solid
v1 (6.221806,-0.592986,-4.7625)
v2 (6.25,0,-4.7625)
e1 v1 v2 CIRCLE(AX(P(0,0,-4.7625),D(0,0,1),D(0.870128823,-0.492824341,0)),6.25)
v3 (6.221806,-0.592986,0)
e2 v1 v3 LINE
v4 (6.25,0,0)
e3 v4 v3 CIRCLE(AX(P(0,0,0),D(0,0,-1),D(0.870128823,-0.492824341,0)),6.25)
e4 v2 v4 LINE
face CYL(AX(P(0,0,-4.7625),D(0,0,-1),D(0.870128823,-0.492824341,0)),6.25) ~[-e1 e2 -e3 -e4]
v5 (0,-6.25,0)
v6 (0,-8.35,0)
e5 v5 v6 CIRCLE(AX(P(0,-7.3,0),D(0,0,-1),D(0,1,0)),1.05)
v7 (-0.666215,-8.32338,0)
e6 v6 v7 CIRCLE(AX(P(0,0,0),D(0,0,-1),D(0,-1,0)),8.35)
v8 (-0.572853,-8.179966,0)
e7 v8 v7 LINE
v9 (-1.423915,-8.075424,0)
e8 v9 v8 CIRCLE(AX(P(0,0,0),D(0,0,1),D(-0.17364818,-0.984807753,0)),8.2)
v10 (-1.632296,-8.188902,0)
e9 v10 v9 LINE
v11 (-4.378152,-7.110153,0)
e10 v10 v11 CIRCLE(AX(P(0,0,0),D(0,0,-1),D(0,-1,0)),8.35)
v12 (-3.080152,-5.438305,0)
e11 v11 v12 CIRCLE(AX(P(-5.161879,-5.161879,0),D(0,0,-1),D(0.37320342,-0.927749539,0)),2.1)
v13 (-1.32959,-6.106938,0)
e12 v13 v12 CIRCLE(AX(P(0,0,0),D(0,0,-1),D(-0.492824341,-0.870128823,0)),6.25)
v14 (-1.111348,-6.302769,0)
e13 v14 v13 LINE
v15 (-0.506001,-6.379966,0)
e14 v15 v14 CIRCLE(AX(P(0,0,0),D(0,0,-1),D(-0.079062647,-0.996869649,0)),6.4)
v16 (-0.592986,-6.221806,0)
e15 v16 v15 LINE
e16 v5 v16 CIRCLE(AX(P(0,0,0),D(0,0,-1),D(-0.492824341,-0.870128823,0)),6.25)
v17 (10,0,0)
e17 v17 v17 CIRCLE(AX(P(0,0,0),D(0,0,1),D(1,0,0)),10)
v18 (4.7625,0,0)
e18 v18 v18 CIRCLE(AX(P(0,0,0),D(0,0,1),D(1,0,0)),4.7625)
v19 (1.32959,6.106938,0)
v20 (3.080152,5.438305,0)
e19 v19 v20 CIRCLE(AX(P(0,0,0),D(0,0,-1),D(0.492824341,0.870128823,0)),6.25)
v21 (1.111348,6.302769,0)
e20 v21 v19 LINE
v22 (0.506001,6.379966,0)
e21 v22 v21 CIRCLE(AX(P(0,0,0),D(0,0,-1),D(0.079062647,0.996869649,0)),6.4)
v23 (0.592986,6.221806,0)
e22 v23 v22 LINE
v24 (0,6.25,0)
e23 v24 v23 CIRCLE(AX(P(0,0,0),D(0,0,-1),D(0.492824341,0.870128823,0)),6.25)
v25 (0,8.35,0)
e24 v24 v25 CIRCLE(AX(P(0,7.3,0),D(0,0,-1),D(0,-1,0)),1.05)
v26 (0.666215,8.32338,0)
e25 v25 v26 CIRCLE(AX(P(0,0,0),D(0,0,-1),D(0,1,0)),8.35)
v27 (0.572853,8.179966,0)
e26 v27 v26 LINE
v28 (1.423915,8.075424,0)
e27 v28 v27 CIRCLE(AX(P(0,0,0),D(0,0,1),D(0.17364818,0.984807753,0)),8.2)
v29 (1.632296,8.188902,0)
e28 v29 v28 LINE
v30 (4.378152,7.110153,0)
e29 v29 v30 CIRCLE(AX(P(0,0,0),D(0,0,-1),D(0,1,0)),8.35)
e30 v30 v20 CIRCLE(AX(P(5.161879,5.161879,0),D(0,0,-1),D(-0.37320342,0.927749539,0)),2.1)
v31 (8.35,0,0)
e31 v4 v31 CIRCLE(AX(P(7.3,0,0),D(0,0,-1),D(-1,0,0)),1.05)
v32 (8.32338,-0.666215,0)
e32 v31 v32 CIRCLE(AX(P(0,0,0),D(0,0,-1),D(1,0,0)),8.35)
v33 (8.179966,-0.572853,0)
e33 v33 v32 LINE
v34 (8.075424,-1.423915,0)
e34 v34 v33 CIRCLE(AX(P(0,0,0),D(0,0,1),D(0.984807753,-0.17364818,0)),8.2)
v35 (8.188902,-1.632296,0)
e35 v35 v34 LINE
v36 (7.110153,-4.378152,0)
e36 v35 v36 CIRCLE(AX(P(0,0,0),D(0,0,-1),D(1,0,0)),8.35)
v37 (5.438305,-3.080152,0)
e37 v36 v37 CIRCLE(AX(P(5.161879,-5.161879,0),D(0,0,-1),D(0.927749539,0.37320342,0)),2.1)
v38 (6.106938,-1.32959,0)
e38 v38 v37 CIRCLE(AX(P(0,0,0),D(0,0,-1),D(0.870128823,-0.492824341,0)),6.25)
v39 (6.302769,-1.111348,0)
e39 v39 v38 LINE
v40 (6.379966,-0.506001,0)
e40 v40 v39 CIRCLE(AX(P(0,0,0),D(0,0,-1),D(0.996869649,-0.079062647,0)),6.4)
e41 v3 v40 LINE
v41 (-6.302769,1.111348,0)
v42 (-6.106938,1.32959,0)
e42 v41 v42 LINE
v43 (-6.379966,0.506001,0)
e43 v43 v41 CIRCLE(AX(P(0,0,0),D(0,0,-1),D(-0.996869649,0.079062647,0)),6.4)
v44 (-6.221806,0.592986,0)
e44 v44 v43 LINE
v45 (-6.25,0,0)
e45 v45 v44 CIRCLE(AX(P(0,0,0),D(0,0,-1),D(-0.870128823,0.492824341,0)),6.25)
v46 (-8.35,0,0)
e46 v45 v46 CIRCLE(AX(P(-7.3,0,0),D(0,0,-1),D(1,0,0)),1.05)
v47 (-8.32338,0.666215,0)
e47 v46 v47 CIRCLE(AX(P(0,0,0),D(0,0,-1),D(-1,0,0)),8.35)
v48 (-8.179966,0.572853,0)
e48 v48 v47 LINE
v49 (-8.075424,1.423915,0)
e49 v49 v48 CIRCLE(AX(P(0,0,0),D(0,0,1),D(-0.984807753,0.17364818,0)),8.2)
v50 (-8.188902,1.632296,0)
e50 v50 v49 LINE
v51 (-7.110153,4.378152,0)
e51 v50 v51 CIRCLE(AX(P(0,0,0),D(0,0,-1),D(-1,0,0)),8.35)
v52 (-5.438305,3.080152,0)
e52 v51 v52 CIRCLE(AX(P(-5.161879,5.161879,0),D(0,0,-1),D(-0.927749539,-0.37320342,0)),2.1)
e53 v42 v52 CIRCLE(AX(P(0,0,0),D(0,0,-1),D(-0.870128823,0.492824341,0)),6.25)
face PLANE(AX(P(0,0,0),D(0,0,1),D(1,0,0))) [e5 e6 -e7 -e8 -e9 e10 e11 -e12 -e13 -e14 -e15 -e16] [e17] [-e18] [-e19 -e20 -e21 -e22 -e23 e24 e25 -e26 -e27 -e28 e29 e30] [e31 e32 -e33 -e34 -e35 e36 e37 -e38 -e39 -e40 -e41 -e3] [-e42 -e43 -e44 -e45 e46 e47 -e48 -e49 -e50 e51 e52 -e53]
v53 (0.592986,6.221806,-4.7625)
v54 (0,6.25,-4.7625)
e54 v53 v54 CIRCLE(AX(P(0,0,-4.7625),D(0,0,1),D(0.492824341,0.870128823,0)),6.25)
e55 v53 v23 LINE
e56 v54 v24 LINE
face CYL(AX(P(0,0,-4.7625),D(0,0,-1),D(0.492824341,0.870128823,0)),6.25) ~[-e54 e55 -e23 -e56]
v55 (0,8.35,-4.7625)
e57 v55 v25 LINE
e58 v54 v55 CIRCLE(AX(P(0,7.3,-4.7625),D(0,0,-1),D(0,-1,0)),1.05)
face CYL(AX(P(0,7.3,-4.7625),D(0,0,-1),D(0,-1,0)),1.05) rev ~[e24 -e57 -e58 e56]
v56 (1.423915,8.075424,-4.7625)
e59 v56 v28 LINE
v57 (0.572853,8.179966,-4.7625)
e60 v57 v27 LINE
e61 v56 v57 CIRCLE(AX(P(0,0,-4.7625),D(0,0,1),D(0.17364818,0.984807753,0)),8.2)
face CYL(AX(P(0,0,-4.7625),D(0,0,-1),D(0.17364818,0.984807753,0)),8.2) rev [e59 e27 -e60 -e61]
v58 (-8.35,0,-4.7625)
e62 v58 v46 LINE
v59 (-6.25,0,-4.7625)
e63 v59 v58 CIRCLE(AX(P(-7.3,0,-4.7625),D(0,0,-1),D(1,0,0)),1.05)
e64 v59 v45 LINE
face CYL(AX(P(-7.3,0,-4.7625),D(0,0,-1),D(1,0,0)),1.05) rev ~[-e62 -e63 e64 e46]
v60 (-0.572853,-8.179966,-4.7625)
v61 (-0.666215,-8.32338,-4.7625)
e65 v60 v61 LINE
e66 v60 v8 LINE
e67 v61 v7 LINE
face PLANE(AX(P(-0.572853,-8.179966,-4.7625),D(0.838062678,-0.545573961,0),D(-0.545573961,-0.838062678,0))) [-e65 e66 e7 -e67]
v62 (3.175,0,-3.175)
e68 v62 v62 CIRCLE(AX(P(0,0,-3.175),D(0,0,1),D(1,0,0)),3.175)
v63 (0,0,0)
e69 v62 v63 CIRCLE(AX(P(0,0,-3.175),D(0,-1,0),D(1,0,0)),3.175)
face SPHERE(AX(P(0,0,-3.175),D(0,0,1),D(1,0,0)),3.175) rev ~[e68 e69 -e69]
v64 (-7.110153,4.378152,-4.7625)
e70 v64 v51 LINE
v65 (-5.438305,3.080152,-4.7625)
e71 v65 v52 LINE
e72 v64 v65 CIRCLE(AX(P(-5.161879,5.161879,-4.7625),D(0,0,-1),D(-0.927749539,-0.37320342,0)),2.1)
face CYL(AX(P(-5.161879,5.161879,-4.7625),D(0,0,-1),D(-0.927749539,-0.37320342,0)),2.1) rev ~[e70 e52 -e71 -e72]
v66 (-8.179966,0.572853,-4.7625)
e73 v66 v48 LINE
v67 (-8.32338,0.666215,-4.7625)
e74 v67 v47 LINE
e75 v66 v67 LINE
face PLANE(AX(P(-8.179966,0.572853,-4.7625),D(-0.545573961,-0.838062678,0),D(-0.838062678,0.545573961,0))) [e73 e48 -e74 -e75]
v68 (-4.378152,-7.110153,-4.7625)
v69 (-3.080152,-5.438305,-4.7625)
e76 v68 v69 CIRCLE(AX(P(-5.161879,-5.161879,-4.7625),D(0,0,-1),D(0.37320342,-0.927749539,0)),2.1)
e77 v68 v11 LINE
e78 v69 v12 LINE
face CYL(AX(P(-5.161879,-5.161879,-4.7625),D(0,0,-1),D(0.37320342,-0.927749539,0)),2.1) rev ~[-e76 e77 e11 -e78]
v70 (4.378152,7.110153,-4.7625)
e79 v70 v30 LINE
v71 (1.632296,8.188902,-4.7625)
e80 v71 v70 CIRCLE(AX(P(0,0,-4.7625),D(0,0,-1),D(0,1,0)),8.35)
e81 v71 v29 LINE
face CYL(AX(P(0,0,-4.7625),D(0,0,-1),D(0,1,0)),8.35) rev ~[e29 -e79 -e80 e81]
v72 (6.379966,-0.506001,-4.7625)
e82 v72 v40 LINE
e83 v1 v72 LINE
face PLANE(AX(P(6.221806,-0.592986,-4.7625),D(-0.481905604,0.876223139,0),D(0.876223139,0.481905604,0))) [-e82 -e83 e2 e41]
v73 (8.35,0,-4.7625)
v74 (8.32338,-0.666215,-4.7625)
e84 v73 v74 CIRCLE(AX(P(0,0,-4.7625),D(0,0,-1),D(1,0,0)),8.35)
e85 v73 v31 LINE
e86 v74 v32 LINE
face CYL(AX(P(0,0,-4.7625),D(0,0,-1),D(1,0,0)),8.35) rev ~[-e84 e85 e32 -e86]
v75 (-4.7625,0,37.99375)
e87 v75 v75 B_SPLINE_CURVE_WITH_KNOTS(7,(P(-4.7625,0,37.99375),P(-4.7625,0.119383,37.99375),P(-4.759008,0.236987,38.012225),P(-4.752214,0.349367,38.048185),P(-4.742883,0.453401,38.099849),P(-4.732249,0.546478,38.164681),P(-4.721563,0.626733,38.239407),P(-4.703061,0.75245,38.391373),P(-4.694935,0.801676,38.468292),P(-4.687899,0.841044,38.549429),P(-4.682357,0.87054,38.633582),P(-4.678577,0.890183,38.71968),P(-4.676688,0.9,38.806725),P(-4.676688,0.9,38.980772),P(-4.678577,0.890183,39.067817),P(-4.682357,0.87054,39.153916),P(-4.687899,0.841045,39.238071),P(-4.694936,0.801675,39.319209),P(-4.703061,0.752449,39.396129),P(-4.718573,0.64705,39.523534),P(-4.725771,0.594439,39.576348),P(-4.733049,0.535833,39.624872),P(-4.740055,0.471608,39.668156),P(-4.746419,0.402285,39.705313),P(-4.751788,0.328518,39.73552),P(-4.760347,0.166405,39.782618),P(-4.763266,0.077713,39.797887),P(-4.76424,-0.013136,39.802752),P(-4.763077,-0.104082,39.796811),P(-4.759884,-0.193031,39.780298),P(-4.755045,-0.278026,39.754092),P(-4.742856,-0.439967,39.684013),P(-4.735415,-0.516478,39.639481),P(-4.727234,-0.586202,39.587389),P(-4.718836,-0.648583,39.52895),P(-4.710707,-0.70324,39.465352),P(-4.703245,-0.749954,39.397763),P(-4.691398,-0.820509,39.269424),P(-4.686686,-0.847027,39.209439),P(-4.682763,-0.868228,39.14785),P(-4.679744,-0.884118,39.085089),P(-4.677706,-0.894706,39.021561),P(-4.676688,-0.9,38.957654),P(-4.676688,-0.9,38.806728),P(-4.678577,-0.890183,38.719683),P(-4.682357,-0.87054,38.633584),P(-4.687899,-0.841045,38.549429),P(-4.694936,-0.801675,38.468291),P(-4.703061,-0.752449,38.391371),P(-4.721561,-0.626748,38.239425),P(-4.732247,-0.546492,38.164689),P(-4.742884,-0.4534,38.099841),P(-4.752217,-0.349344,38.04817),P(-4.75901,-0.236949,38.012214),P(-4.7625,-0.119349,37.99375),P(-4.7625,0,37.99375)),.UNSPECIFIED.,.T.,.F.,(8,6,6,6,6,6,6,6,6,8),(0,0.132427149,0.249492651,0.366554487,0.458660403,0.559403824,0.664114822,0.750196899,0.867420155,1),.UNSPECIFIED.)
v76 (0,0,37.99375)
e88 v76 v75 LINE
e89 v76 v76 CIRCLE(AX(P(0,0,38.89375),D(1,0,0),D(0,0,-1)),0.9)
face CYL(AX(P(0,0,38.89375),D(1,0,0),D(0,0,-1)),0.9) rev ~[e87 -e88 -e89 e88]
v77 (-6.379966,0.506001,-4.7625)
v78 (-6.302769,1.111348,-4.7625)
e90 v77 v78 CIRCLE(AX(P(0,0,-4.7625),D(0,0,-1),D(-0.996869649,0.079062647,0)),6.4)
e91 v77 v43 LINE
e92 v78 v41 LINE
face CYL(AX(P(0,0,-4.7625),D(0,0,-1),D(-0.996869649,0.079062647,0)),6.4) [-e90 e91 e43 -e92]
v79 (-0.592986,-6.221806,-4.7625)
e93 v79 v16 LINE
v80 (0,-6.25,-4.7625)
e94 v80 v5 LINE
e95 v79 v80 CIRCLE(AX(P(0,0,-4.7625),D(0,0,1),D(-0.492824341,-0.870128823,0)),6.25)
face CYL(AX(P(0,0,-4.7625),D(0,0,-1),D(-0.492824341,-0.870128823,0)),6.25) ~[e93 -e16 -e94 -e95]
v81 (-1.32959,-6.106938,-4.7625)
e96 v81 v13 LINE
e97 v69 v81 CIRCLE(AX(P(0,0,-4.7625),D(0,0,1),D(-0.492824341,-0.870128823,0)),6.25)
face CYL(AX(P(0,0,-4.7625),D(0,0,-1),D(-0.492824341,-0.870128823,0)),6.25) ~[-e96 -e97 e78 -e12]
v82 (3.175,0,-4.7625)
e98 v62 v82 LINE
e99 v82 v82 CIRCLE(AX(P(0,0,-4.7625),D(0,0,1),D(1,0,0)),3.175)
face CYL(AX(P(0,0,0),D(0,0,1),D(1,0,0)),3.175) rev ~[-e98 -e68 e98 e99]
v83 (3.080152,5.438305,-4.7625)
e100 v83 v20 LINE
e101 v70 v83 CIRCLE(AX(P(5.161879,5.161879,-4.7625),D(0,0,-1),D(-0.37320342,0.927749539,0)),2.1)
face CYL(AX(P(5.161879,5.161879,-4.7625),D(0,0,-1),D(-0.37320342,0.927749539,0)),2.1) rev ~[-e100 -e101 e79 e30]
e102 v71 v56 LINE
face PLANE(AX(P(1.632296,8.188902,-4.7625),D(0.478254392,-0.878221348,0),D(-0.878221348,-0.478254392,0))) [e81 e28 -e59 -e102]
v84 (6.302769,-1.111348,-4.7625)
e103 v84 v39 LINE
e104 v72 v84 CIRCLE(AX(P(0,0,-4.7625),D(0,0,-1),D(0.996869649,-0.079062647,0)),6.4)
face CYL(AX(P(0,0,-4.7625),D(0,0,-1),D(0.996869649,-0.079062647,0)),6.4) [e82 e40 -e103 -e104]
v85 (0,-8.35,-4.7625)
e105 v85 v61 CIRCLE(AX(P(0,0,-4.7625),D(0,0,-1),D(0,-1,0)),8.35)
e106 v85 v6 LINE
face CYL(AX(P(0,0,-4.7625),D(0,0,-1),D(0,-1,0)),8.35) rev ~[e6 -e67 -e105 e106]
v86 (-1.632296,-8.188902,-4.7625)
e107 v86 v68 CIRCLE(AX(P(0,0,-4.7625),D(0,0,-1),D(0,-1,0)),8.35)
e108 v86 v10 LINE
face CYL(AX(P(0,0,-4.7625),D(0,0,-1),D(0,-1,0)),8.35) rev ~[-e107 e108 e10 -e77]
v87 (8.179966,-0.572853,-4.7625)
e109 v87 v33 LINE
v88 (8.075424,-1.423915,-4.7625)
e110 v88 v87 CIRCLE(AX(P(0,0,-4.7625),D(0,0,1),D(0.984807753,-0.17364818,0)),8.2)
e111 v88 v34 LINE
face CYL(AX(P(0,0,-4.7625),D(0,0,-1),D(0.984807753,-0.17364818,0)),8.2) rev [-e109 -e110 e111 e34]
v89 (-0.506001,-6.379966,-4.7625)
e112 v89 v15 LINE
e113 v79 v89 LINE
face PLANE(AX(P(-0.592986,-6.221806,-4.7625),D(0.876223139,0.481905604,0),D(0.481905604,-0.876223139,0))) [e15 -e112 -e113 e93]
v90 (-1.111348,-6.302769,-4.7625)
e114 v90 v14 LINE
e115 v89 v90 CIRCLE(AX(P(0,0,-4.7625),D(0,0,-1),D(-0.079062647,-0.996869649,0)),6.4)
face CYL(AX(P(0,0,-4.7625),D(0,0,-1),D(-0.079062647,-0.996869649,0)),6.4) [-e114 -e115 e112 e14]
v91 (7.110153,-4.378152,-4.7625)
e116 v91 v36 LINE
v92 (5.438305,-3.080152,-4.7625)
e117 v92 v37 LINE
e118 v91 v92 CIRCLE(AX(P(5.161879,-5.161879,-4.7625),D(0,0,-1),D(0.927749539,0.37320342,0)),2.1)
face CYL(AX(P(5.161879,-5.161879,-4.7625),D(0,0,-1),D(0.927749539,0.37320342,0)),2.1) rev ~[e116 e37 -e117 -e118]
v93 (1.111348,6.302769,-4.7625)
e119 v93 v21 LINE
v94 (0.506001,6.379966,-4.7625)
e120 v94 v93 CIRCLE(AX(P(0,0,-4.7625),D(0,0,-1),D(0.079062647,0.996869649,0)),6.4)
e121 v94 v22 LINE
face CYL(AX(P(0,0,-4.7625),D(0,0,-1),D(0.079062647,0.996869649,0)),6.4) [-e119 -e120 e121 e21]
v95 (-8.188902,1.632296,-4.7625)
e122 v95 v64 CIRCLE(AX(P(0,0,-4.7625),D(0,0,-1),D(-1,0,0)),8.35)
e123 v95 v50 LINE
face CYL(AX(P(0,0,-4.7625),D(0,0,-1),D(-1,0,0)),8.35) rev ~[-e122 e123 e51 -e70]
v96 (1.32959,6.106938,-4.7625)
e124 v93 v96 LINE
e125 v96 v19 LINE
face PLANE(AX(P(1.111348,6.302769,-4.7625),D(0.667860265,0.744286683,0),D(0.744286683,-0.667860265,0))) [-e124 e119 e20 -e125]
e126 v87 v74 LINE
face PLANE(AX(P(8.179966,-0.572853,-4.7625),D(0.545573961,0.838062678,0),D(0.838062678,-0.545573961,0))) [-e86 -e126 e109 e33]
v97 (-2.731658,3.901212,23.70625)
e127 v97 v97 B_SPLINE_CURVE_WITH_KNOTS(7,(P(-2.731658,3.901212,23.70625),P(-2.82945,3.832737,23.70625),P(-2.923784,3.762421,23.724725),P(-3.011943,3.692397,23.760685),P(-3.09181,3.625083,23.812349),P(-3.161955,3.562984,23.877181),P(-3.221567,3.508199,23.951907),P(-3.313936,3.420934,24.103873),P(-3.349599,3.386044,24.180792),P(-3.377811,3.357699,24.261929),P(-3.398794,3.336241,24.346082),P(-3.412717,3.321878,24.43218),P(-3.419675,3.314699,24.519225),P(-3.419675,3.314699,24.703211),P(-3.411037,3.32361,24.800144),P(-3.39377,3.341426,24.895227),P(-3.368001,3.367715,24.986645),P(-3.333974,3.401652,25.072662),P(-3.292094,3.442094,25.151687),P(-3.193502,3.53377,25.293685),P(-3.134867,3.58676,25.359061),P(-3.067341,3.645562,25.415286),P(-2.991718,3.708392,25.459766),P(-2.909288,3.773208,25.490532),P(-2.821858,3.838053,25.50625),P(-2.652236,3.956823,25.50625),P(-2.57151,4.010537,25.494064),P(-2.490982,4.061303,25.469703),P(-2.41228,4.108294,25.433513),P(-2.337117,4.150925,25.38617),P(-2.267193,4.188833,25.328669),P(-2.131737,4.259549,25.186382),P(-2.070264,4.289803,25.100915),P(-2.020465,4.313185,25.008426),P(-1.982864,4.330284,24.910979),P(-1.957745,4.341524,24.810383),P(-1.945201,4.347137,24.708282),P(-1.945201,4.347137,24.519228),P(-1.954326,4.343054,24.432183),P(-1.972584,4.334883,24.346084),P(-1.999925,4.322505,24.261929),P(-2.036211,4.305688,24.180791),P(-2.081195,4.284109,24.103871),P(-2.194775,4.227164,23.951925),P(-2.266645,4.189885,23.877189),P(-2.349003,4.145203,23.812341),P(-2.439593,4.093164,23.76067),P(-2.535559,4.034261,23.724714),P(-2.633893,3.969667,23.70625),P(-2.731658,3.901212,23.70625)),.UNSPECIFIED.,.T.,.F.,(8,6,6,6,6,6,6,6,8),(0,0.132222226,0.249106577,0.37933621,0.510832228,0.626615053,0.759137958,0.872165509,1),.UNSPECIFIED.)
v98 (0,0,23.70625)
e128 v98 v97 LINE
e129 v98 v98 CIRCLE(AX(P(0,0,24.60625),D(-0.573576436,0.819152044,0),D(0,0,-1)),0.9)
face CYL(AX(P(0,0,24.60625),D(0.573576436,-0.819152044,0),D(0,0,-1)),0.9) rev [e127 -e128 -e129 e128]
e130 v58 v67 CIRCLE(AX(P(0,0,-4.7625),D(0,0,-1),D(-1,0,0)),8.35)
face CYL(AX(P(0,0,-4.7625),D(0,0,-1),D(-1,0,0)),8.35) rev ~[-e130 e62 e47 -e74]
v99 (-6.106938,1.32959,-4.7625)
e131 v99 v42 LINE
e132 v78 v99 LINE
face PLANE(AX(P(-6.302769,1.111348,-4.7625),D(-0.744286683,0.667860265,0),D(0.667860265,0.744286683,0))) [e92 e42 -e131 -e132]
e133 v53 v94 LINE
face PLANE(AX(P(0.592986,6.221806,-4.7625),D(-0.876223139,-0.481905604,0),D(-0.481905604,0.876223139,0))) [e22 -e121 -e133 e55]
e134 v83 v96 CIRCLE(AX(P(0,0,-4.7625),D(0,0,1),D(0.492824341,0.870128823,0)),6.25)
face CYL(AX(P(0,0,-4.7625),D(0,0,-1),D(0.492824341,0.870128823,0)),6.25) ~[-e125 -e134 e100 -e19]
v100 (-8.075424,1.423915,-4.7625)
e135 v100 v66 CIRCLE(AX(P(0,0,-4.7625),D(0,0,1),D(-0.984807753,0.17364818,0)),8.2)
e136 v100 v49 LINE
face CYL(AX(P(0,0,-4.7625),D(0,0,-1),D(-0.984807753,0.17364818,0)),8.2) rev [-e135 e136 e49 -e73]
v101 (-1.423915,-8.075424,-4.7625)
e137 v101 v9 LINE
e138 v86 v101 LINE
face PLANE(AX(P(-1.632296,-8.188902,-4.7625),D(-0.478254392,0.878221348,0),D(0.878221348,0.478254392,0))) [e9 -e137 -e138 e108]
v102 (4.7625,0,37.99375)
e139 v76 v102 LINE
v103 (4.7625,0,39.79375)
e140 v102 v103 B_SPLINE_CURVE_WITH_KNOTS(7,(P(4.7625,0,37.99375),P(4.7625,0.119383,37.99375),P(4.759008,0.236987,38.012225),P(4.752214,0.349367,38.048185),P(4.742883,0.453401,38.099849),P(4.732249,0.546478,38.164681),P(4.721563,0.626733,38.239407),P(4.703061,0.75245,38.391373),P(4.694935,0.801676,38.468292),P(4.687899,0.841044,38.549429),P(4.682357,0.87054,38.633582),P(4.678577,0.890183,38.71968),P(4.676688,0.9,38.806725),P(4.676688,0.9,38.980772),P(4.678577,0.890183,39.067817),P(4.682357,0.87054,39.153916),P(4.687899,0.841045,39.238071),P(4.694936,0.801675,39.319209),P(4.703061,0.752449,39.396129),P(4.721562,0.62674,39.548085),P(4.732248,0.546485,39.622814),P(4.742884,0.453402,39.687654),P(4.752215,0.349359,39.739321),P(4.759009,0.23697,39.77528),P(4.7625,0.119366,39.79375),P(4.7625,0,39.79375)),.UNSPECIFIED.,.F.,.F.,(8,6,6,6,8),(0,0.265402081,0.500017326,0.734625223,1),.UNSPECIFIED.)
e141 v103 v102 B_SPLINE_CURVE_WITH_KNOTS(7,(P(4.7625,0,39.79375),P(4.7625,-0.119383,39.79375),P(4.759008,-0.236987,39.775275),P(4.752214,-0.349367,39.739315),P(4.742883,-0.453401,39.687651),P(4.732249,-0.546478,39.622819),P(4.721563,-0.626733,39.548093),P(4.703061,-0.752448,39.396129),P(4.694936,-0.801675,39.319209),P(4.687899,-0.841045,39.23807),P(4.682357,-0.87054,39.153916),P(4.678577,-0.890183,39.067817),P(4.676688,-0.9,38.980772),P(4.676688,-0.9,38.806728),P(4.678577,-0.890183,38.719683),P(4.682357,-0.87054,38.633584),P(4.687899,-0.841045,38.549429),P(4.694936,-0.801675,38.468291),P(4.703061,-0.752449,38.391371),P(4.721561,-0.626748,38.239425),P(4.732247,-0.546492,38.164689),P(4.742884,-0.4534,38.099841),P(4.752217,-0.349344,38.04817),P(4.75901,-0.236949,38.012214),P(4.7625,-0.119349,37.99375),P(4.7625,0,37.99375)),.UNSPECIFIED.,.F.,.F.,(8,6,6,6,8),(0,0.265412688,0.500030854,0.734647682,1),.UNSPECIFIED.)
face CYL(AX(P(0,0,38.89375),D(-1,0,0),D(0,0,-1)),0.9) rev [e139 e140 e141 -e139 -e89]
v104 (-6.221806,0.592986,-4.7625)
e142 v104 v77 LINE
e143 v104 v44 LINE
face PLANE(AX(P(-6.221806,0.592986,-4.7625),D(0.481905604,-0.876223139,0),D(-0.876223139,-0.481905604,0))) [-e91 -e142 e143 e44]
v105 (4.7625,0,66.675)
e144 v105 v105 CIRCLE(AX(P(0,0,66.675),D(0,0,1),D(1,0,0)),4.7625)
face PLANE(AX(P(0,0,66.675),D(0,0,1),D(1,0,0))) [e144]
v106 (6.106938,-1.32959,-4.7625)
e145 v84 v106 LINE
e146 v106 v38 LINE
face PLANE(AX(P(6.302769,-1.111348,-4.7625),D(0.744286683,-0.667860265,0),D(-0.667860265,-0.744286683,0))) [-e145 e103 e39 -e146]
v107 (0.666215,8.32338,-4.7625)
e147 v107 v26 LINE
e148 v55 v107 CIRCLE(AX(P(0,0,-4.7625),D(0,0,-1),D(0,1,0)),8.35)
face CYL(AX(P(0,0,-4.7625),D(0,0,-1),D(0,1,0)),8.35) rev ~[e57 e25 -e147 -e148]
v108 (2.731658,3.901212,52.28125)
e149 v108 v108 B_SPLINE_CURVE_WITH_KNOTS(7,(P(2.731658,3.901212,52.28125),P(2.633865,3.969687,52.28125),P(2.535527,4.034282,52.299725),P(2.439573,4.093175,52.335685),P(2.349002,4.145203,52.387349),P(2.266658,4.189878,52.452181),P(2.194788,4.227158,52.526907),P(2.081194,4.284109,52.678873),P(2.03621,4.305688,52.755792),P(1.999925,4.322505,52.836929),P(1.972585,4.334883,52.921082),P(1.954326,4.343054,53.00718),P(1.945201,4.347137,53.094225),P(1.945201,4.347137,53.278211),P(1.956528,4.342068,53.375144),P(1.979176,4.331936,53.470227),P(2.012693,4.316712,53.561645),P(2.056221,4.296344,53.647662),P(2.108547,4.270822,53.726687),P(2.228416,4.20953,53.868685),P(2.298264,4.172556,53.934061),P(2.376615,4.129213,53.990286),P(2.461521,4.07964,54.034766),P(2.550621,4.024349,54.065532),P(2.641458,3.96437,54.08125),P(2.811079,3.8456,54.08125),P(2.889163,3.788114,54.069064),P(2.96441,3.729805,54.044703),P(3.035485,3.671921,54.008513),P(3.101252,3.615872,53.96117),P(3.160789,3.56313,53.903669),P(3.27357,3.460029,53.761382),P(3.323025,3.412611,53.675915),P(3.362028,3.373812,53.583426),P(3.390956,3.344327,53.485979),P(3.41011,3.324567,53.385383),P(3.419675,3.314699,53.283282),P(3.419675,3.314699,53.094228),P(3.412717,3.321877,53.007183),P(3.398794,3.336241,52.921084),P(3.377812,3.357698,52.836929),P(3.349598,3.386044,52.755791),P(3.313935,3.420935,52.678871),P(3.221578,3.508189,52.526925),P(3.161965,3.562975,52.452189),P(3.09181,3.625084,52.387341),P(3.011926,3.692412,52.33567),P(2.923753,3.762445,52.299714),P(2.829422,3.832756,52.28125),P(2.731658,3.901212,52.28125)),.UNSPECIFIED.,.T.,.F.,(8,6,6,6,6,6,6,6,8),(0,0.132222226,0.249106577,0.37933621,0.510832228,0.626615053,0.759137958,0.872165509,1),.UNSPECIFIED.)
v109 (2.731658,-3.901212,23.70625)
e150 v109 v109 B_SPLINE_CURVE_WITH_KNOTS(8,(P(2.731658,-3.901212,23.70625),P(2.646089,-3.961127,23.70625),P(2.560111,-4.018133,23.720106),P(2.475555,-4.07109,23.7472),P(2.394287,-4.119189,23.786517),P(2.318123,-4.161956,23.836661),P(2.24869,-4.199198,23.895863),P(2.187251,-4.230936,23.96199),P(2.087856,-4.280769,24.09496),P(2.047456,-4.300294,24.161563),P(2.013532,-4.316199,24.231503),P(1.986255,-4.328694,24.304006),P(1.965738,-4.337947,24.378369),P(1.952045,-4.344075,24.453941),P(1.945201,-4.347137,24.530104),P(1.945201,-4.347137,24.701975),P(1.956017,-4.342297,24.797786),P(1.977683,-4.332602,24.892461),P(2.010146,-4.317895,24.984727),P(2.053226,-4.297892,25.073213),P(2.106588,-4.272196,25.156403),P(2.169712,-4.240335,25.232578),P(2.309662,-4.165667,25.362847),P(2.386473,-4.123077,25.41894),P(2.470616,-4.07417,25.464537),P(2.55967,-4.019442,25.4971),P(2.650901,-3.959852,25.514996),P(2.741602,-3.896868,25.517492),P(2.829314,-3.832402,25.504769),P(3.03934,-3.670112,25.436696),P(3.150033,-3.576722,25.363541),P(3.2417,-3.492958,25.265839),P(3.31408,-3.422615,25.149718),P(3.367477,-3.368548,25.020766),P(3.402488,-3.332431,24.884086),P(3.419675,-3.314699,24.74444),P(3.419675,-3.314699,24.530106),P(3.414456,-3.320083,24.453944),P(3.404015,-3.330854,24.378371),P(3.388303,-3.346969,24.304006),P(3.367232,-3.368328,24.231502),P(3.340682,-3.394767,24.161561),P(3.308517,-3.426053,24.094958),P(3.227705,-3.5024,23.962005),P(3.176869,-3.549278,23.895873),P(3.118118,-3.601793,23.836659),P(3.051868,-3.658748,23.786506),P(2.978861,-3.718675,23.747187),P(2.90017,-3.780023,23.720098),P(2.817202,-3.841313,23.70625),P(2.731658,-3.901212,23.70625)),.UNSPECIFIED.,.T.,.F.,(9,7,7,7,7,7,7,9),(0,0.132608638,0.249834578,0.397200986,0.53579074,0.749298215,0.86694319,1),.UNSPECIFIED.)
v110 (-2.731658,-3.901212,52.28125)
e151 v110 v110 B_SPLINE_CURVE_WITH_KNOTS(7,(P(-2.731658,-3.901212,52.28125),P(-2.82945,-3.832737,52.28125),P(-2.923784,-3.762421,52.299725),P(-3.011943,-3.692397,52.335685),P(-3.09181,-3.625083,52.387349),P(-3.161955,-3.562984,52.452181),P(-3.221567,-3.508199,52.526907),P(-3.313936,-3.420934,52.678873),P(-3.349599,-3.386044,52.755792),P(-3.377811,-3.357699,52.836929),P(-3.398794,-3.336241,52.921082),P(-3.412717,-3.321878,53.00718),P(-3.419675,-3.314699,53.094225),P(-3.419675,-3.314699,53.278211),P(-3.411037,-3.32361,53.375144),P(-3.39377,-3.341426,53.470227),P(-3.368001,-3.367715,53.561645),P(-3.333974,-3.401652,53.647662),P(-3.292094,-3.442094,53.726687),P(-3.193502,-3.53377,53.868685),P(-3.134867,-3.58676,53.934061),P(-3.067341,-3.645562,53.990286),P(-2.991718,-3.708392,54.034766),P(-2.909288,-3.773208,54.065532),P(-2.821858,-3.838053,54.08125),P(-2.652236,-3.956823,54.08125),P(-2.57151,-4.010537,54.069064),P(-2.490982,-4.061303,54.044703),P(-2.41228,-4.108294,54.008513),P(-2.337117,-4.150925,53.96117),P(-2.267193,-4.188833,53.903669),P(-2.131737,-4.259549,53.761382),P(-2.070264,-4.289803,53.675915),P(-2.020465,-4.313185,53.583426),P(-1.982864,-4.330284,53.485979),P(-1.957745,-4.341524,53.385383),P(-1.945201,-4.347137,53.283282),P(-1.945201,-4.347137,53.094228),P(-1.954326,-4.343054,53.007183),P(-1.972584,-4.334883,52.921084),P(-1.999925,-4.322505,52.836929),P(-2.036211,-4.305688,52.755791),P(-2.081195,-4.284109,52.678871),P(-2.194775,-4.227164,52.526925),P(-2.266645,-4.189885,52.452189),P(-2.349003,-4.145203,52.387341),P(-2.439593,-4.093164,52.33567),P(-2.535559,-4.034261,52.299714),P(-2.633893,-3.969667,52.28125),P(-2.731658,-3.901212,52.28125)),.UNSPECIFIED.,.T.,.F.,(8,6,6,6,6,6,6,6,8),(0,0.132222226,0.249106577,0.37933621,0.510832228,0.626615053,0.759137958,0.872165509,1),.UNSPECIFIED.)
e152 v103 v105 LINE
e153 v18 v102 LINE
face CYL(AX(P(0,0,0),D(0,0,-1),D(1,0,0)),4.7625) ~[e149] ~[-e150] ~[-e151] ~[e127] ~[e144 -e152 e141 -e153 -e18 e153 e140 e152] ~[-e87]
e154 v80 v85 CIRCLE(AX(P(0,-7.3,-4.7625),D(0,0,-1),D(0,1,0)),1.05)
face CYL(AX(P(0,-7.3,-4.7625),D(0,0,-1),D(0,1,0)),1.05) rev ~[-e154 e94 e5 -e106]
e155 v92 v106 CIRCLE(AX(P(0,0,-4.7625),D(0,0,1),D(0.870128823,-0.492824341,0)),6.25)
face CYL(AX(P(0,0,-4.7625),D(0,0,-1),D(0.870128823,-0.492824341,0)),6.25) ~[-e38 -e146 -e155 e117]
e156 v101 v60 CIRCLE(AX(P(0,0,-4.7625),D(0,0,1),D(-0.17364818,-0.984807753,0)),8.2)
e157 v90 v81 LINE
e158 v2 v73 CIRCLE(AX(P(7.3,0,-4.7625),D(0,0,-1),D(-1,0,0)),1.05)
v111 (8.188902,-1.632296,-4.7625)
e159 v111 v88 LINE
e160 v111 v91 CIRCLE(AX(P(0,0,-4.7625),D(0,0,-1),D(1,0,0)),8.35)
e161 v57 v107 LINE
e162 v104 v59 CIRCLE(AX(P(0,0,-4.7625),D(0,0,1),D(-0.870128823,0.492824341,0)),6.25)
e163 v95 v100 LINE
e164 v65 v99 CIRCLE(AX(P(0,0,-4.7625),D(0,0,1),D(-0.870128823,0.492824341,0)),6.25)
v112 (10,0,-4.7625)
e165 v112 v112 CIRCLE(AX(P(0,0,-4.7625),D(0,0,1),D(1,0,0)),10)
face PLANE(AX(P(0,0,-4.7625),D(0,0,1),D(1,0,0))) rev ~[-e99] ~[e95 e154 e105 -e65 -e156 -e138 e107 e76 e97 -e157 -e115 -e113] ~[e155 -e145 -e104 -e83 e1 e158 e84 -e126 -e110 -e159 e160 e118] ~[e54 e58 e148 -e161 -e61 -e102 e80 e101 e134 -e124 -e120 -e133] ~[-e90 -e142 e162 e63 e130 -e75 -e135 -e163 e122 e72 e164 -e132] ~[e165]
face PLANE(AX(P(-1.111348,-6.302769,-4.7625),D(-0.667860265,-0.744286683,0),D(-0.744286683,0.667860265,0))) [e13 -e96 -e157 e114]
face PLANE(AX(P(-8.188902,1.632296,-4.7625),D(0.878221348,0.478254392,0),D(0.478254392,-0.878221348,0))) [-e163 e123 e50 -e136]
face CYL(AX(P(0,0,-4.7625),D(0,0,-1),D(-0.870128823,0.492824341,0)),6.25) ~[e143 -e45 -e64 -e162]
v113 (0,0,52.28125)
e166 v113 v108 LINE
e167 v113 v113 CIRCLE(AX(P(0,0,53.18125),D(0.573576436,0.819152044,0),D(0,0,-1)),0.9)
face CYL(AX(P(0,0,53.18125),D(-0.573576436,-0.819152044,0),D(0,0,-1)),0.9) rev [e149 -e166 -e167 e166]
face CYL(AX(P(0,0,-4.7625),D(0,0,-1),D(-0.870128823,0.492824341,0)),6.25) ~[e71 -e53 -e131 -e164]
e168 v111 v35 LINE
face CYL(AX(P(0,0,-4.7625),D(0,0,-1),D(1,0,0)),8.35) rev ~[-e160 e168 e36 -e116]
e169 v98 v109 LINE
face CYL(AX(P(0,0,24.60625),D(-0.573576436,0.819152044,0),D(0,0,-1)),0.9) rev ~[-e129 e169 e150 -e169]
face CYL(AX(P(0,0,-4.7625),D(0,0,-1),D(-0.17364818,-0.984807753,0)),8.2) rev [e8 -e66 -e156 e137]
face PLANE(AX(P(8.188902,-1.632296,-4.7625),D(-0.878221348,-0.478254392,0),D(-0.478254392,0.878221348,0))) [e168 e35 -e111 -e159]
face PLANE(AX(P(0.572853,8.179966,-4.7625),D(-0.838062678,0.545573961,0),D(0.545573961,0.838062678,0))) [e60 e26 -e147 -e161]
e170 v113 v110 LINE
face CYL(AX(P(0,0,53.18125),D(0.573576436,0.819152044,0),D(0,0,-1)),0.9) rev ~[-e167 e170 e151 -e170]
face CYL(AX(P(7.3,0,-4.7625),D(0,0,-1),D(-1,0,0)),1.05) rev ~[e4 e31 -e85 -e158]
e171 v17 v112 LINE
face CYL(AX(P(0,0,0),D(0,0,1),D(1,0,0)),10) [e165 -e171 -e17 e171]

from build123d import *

# Parameters (mm, degrees)
SKETCH1_R               = 4.7625
BOSS_EXTRUDE1_DEPTH     = 66.675
SKETCH1_4_R             = 9.999999939
SKETCH1_4_R_2           = 3.175
BOSS_EXTRUDE2_DEPTH     = 4.7625
FILLET1_R               = 3.175
SKETCH3_R               = 0.899999978
CUT_EXTRUDE2_DEPTH      = 10.999999939
CUT_EXTRUDE2_DEPTH_BACK = 10.999999939
SKETCH4_R               = 0.899999978
CUT_EXTRUDE3_DEPTH      = 14.927284721
CUT_EXTRUDE3_DEPTH_BACK = 14.927284721
SKETCH5_R               = 0.899999978
CUT_EXTRUDE4_DEPTH      = 14.927284721
CUT_EXTRUDE4_DEPTH_BACK = 14.927284721
CUT_EXTRUDE5_DEPTH      = 72.4375001
BOSS_EXTRUDE3_DEPTH     = 4.7625
CIRPATTERN1_COUNT       = 4


with BuildPart() as part:
    # Sketch1 → Boss-Extrude1 (new body)
    with BuildSketch(Plane.XY):
        Circle(SKETCH1_R)
    extrude(amount=BOSS_EXTRUDE1_DEPTH)

    # Sketch1<4> → Boss-Extrude2 (add)
    with BuildSketch(Plane.XY):
        Circle(SKETCH1_4_R)
        Circle(SKETCH1_4_R_2, mode=Mode.SUBTRACT)
    extrude(amount=-BOSS_EXTRUDE2_DEPTH)

    # Fillet1
    fillet1_edges = [part.edges().sort_by_distance(p)[0] for p in [
        (-3.175, 0, 0),
    ]]
    fillet(fillet1_edges, radius=FILLET1_R)

    # Sketch3 → Cut-Extrude2 (cut, two sides)
    with BuildSketch(Plane(origin=(0, 0, 0), x_dir=(0, 0, -1), z_dir=(1, 0, 0))) as cut_extrude2_sk:
        with Locations((-38.89375, 0)):
            Circle(SKETCH3_R)
    extrude(amount=CUT_EXTRUDE2_DEPTH, mode=Mode.SUBTRACT)
    extrude(cut_extrude2_sk.sketch, amount=-CUT_EXTRUDE2_DEPTH_BACK, mode=Mode.SUBTRACT)

    # Sketch4 → Cut-Extrude3 (cut, two sides)
    with BuildSketch(Plane(origin=(0, 0, 0), x_dir=(0, 0, -1), z_dir=(0.573576436, 0.819152044, 0))) as cut_extrude3_sk:
        with Locations((-53.18125, 0)):
            Circle(SKETCH4_R)
    extrude(amount=CUT_EXTRUDE3_DEPTH, mode=Mode.SUBTRACT)
    extrude(cut_extrude3_sk.sketch, amount=-CUT_EXTRUDE3_DEPTH_BACK, mode=Mode.SUBTRACT)

    # Sketch5 → Cut-Extrude4 (cut, two sides)
    with BuildSketch(Plane(origin=(0, 0, 0), x_dir=(0, 0, -1), z_dir=(-0.573576436, 0.819152044, 0))) as cut_extrude4_sk:
        with Locations((-24.60625, 0)):
            Circle(SKETCH5_R)
    extrude(amount=CUT_EXTRUDE4_DEPTH, mode=Mode.SUBTRACT)
    extrude(cut_extrude4_sk.sketch, amount=-CUT_EXTRUDE4_DEPTH_BACK, mode=Mode.SUBTRACT)

    # Sketch6 → Cut-Extrude5 (cut, through all)
    with BuildSketch(Plane(origin=(0, 0, -4.7625), x_dir=(-1, 0, 0), z_dir=(0, 0, -1))):
        with BuildLine():
            ThreePointArc((0, 6.249999819), (1.050000059, 7.299999878), (0, 8.349999937))
            ThreePointArc((0, 8.349999937), (-2.275161332, 8.034061231), (-4.378152237, 7.11015344))
            ThreePointArc((-4.378152237, 7.11015344), (-6.820637013, 3.874042781), (-3.080152041, 5.438304988))
            ThreePointArc((-3.080152041, 5.438304988), (-1.592653846, 6.043670364), (0, 6.249999819))
        make_face()
    cut_extrude5 = extrude(amount=-CUT_EXTRUDE5_DEPTH, mode=Mode.SUBTRACT)

    # Sketch7 → Boss-Extrude3 (add)
    with BuildSketch(Plane(origin=(0, 0, -4.7625), x_dir=(-1, 0, 0), z_dir=(0, 0, -1))):
        with BuildLine():
            ThreePointArc((-0.506000912, 6.379965531), (-0.809595225, 6.348586667), (-1.111348298, 6.302769396))
            Line((-1.111348298, 6.302769396), (-1.329589914, 6.106937727))
            ThreePointArc((-1.329589914, 6.106937727), (-0.963002055, 6.175364344), (-0.592985752, 6.221805657))
            Line((-0.592985752, 6.221805657), (-0.506000912, 6.379965531))
        make_face()
        with BuildLine():
            Line((-1.632295539, 8.188901649), (-1.423915054, 8.075423558))
            ThreePointArc((-1.423915054, 8.075423558), (-0.999751281, 8.138826519), (-0.57285269, 8.179965741))
            Line((-0.57285269, 8.179965741), (-0.666214637, 8.323380143))
            ThreePointArc((-0.666214637, 8.323380143), (-1.151220385, 8.270259402), (-1.632295539, 8.188901649))
        make_face()
    boss_extrude3 = extrude(amount=-BOSS_EXTRUDE3_DEPTH)

    # CirPattern1: Cut-Extrude5, Boss-Extrude3 ×4 about axis
    cirpattern1_axis = Axis((0, 0, 0), (0, 0, 1))
    for i in range(1, CIRPATTERN1_COUNT):
        add(cut_extrude5.rotate(cirpattern1_axis, i * 360 / CIRPATTERN1_COUNT), mode=Mode.SUBTRACT)
        add(boss_extrude3.rotate(cirpattern1_axis, i * 360 / CIRPATTERN1_COUNT))


solid = part.part
